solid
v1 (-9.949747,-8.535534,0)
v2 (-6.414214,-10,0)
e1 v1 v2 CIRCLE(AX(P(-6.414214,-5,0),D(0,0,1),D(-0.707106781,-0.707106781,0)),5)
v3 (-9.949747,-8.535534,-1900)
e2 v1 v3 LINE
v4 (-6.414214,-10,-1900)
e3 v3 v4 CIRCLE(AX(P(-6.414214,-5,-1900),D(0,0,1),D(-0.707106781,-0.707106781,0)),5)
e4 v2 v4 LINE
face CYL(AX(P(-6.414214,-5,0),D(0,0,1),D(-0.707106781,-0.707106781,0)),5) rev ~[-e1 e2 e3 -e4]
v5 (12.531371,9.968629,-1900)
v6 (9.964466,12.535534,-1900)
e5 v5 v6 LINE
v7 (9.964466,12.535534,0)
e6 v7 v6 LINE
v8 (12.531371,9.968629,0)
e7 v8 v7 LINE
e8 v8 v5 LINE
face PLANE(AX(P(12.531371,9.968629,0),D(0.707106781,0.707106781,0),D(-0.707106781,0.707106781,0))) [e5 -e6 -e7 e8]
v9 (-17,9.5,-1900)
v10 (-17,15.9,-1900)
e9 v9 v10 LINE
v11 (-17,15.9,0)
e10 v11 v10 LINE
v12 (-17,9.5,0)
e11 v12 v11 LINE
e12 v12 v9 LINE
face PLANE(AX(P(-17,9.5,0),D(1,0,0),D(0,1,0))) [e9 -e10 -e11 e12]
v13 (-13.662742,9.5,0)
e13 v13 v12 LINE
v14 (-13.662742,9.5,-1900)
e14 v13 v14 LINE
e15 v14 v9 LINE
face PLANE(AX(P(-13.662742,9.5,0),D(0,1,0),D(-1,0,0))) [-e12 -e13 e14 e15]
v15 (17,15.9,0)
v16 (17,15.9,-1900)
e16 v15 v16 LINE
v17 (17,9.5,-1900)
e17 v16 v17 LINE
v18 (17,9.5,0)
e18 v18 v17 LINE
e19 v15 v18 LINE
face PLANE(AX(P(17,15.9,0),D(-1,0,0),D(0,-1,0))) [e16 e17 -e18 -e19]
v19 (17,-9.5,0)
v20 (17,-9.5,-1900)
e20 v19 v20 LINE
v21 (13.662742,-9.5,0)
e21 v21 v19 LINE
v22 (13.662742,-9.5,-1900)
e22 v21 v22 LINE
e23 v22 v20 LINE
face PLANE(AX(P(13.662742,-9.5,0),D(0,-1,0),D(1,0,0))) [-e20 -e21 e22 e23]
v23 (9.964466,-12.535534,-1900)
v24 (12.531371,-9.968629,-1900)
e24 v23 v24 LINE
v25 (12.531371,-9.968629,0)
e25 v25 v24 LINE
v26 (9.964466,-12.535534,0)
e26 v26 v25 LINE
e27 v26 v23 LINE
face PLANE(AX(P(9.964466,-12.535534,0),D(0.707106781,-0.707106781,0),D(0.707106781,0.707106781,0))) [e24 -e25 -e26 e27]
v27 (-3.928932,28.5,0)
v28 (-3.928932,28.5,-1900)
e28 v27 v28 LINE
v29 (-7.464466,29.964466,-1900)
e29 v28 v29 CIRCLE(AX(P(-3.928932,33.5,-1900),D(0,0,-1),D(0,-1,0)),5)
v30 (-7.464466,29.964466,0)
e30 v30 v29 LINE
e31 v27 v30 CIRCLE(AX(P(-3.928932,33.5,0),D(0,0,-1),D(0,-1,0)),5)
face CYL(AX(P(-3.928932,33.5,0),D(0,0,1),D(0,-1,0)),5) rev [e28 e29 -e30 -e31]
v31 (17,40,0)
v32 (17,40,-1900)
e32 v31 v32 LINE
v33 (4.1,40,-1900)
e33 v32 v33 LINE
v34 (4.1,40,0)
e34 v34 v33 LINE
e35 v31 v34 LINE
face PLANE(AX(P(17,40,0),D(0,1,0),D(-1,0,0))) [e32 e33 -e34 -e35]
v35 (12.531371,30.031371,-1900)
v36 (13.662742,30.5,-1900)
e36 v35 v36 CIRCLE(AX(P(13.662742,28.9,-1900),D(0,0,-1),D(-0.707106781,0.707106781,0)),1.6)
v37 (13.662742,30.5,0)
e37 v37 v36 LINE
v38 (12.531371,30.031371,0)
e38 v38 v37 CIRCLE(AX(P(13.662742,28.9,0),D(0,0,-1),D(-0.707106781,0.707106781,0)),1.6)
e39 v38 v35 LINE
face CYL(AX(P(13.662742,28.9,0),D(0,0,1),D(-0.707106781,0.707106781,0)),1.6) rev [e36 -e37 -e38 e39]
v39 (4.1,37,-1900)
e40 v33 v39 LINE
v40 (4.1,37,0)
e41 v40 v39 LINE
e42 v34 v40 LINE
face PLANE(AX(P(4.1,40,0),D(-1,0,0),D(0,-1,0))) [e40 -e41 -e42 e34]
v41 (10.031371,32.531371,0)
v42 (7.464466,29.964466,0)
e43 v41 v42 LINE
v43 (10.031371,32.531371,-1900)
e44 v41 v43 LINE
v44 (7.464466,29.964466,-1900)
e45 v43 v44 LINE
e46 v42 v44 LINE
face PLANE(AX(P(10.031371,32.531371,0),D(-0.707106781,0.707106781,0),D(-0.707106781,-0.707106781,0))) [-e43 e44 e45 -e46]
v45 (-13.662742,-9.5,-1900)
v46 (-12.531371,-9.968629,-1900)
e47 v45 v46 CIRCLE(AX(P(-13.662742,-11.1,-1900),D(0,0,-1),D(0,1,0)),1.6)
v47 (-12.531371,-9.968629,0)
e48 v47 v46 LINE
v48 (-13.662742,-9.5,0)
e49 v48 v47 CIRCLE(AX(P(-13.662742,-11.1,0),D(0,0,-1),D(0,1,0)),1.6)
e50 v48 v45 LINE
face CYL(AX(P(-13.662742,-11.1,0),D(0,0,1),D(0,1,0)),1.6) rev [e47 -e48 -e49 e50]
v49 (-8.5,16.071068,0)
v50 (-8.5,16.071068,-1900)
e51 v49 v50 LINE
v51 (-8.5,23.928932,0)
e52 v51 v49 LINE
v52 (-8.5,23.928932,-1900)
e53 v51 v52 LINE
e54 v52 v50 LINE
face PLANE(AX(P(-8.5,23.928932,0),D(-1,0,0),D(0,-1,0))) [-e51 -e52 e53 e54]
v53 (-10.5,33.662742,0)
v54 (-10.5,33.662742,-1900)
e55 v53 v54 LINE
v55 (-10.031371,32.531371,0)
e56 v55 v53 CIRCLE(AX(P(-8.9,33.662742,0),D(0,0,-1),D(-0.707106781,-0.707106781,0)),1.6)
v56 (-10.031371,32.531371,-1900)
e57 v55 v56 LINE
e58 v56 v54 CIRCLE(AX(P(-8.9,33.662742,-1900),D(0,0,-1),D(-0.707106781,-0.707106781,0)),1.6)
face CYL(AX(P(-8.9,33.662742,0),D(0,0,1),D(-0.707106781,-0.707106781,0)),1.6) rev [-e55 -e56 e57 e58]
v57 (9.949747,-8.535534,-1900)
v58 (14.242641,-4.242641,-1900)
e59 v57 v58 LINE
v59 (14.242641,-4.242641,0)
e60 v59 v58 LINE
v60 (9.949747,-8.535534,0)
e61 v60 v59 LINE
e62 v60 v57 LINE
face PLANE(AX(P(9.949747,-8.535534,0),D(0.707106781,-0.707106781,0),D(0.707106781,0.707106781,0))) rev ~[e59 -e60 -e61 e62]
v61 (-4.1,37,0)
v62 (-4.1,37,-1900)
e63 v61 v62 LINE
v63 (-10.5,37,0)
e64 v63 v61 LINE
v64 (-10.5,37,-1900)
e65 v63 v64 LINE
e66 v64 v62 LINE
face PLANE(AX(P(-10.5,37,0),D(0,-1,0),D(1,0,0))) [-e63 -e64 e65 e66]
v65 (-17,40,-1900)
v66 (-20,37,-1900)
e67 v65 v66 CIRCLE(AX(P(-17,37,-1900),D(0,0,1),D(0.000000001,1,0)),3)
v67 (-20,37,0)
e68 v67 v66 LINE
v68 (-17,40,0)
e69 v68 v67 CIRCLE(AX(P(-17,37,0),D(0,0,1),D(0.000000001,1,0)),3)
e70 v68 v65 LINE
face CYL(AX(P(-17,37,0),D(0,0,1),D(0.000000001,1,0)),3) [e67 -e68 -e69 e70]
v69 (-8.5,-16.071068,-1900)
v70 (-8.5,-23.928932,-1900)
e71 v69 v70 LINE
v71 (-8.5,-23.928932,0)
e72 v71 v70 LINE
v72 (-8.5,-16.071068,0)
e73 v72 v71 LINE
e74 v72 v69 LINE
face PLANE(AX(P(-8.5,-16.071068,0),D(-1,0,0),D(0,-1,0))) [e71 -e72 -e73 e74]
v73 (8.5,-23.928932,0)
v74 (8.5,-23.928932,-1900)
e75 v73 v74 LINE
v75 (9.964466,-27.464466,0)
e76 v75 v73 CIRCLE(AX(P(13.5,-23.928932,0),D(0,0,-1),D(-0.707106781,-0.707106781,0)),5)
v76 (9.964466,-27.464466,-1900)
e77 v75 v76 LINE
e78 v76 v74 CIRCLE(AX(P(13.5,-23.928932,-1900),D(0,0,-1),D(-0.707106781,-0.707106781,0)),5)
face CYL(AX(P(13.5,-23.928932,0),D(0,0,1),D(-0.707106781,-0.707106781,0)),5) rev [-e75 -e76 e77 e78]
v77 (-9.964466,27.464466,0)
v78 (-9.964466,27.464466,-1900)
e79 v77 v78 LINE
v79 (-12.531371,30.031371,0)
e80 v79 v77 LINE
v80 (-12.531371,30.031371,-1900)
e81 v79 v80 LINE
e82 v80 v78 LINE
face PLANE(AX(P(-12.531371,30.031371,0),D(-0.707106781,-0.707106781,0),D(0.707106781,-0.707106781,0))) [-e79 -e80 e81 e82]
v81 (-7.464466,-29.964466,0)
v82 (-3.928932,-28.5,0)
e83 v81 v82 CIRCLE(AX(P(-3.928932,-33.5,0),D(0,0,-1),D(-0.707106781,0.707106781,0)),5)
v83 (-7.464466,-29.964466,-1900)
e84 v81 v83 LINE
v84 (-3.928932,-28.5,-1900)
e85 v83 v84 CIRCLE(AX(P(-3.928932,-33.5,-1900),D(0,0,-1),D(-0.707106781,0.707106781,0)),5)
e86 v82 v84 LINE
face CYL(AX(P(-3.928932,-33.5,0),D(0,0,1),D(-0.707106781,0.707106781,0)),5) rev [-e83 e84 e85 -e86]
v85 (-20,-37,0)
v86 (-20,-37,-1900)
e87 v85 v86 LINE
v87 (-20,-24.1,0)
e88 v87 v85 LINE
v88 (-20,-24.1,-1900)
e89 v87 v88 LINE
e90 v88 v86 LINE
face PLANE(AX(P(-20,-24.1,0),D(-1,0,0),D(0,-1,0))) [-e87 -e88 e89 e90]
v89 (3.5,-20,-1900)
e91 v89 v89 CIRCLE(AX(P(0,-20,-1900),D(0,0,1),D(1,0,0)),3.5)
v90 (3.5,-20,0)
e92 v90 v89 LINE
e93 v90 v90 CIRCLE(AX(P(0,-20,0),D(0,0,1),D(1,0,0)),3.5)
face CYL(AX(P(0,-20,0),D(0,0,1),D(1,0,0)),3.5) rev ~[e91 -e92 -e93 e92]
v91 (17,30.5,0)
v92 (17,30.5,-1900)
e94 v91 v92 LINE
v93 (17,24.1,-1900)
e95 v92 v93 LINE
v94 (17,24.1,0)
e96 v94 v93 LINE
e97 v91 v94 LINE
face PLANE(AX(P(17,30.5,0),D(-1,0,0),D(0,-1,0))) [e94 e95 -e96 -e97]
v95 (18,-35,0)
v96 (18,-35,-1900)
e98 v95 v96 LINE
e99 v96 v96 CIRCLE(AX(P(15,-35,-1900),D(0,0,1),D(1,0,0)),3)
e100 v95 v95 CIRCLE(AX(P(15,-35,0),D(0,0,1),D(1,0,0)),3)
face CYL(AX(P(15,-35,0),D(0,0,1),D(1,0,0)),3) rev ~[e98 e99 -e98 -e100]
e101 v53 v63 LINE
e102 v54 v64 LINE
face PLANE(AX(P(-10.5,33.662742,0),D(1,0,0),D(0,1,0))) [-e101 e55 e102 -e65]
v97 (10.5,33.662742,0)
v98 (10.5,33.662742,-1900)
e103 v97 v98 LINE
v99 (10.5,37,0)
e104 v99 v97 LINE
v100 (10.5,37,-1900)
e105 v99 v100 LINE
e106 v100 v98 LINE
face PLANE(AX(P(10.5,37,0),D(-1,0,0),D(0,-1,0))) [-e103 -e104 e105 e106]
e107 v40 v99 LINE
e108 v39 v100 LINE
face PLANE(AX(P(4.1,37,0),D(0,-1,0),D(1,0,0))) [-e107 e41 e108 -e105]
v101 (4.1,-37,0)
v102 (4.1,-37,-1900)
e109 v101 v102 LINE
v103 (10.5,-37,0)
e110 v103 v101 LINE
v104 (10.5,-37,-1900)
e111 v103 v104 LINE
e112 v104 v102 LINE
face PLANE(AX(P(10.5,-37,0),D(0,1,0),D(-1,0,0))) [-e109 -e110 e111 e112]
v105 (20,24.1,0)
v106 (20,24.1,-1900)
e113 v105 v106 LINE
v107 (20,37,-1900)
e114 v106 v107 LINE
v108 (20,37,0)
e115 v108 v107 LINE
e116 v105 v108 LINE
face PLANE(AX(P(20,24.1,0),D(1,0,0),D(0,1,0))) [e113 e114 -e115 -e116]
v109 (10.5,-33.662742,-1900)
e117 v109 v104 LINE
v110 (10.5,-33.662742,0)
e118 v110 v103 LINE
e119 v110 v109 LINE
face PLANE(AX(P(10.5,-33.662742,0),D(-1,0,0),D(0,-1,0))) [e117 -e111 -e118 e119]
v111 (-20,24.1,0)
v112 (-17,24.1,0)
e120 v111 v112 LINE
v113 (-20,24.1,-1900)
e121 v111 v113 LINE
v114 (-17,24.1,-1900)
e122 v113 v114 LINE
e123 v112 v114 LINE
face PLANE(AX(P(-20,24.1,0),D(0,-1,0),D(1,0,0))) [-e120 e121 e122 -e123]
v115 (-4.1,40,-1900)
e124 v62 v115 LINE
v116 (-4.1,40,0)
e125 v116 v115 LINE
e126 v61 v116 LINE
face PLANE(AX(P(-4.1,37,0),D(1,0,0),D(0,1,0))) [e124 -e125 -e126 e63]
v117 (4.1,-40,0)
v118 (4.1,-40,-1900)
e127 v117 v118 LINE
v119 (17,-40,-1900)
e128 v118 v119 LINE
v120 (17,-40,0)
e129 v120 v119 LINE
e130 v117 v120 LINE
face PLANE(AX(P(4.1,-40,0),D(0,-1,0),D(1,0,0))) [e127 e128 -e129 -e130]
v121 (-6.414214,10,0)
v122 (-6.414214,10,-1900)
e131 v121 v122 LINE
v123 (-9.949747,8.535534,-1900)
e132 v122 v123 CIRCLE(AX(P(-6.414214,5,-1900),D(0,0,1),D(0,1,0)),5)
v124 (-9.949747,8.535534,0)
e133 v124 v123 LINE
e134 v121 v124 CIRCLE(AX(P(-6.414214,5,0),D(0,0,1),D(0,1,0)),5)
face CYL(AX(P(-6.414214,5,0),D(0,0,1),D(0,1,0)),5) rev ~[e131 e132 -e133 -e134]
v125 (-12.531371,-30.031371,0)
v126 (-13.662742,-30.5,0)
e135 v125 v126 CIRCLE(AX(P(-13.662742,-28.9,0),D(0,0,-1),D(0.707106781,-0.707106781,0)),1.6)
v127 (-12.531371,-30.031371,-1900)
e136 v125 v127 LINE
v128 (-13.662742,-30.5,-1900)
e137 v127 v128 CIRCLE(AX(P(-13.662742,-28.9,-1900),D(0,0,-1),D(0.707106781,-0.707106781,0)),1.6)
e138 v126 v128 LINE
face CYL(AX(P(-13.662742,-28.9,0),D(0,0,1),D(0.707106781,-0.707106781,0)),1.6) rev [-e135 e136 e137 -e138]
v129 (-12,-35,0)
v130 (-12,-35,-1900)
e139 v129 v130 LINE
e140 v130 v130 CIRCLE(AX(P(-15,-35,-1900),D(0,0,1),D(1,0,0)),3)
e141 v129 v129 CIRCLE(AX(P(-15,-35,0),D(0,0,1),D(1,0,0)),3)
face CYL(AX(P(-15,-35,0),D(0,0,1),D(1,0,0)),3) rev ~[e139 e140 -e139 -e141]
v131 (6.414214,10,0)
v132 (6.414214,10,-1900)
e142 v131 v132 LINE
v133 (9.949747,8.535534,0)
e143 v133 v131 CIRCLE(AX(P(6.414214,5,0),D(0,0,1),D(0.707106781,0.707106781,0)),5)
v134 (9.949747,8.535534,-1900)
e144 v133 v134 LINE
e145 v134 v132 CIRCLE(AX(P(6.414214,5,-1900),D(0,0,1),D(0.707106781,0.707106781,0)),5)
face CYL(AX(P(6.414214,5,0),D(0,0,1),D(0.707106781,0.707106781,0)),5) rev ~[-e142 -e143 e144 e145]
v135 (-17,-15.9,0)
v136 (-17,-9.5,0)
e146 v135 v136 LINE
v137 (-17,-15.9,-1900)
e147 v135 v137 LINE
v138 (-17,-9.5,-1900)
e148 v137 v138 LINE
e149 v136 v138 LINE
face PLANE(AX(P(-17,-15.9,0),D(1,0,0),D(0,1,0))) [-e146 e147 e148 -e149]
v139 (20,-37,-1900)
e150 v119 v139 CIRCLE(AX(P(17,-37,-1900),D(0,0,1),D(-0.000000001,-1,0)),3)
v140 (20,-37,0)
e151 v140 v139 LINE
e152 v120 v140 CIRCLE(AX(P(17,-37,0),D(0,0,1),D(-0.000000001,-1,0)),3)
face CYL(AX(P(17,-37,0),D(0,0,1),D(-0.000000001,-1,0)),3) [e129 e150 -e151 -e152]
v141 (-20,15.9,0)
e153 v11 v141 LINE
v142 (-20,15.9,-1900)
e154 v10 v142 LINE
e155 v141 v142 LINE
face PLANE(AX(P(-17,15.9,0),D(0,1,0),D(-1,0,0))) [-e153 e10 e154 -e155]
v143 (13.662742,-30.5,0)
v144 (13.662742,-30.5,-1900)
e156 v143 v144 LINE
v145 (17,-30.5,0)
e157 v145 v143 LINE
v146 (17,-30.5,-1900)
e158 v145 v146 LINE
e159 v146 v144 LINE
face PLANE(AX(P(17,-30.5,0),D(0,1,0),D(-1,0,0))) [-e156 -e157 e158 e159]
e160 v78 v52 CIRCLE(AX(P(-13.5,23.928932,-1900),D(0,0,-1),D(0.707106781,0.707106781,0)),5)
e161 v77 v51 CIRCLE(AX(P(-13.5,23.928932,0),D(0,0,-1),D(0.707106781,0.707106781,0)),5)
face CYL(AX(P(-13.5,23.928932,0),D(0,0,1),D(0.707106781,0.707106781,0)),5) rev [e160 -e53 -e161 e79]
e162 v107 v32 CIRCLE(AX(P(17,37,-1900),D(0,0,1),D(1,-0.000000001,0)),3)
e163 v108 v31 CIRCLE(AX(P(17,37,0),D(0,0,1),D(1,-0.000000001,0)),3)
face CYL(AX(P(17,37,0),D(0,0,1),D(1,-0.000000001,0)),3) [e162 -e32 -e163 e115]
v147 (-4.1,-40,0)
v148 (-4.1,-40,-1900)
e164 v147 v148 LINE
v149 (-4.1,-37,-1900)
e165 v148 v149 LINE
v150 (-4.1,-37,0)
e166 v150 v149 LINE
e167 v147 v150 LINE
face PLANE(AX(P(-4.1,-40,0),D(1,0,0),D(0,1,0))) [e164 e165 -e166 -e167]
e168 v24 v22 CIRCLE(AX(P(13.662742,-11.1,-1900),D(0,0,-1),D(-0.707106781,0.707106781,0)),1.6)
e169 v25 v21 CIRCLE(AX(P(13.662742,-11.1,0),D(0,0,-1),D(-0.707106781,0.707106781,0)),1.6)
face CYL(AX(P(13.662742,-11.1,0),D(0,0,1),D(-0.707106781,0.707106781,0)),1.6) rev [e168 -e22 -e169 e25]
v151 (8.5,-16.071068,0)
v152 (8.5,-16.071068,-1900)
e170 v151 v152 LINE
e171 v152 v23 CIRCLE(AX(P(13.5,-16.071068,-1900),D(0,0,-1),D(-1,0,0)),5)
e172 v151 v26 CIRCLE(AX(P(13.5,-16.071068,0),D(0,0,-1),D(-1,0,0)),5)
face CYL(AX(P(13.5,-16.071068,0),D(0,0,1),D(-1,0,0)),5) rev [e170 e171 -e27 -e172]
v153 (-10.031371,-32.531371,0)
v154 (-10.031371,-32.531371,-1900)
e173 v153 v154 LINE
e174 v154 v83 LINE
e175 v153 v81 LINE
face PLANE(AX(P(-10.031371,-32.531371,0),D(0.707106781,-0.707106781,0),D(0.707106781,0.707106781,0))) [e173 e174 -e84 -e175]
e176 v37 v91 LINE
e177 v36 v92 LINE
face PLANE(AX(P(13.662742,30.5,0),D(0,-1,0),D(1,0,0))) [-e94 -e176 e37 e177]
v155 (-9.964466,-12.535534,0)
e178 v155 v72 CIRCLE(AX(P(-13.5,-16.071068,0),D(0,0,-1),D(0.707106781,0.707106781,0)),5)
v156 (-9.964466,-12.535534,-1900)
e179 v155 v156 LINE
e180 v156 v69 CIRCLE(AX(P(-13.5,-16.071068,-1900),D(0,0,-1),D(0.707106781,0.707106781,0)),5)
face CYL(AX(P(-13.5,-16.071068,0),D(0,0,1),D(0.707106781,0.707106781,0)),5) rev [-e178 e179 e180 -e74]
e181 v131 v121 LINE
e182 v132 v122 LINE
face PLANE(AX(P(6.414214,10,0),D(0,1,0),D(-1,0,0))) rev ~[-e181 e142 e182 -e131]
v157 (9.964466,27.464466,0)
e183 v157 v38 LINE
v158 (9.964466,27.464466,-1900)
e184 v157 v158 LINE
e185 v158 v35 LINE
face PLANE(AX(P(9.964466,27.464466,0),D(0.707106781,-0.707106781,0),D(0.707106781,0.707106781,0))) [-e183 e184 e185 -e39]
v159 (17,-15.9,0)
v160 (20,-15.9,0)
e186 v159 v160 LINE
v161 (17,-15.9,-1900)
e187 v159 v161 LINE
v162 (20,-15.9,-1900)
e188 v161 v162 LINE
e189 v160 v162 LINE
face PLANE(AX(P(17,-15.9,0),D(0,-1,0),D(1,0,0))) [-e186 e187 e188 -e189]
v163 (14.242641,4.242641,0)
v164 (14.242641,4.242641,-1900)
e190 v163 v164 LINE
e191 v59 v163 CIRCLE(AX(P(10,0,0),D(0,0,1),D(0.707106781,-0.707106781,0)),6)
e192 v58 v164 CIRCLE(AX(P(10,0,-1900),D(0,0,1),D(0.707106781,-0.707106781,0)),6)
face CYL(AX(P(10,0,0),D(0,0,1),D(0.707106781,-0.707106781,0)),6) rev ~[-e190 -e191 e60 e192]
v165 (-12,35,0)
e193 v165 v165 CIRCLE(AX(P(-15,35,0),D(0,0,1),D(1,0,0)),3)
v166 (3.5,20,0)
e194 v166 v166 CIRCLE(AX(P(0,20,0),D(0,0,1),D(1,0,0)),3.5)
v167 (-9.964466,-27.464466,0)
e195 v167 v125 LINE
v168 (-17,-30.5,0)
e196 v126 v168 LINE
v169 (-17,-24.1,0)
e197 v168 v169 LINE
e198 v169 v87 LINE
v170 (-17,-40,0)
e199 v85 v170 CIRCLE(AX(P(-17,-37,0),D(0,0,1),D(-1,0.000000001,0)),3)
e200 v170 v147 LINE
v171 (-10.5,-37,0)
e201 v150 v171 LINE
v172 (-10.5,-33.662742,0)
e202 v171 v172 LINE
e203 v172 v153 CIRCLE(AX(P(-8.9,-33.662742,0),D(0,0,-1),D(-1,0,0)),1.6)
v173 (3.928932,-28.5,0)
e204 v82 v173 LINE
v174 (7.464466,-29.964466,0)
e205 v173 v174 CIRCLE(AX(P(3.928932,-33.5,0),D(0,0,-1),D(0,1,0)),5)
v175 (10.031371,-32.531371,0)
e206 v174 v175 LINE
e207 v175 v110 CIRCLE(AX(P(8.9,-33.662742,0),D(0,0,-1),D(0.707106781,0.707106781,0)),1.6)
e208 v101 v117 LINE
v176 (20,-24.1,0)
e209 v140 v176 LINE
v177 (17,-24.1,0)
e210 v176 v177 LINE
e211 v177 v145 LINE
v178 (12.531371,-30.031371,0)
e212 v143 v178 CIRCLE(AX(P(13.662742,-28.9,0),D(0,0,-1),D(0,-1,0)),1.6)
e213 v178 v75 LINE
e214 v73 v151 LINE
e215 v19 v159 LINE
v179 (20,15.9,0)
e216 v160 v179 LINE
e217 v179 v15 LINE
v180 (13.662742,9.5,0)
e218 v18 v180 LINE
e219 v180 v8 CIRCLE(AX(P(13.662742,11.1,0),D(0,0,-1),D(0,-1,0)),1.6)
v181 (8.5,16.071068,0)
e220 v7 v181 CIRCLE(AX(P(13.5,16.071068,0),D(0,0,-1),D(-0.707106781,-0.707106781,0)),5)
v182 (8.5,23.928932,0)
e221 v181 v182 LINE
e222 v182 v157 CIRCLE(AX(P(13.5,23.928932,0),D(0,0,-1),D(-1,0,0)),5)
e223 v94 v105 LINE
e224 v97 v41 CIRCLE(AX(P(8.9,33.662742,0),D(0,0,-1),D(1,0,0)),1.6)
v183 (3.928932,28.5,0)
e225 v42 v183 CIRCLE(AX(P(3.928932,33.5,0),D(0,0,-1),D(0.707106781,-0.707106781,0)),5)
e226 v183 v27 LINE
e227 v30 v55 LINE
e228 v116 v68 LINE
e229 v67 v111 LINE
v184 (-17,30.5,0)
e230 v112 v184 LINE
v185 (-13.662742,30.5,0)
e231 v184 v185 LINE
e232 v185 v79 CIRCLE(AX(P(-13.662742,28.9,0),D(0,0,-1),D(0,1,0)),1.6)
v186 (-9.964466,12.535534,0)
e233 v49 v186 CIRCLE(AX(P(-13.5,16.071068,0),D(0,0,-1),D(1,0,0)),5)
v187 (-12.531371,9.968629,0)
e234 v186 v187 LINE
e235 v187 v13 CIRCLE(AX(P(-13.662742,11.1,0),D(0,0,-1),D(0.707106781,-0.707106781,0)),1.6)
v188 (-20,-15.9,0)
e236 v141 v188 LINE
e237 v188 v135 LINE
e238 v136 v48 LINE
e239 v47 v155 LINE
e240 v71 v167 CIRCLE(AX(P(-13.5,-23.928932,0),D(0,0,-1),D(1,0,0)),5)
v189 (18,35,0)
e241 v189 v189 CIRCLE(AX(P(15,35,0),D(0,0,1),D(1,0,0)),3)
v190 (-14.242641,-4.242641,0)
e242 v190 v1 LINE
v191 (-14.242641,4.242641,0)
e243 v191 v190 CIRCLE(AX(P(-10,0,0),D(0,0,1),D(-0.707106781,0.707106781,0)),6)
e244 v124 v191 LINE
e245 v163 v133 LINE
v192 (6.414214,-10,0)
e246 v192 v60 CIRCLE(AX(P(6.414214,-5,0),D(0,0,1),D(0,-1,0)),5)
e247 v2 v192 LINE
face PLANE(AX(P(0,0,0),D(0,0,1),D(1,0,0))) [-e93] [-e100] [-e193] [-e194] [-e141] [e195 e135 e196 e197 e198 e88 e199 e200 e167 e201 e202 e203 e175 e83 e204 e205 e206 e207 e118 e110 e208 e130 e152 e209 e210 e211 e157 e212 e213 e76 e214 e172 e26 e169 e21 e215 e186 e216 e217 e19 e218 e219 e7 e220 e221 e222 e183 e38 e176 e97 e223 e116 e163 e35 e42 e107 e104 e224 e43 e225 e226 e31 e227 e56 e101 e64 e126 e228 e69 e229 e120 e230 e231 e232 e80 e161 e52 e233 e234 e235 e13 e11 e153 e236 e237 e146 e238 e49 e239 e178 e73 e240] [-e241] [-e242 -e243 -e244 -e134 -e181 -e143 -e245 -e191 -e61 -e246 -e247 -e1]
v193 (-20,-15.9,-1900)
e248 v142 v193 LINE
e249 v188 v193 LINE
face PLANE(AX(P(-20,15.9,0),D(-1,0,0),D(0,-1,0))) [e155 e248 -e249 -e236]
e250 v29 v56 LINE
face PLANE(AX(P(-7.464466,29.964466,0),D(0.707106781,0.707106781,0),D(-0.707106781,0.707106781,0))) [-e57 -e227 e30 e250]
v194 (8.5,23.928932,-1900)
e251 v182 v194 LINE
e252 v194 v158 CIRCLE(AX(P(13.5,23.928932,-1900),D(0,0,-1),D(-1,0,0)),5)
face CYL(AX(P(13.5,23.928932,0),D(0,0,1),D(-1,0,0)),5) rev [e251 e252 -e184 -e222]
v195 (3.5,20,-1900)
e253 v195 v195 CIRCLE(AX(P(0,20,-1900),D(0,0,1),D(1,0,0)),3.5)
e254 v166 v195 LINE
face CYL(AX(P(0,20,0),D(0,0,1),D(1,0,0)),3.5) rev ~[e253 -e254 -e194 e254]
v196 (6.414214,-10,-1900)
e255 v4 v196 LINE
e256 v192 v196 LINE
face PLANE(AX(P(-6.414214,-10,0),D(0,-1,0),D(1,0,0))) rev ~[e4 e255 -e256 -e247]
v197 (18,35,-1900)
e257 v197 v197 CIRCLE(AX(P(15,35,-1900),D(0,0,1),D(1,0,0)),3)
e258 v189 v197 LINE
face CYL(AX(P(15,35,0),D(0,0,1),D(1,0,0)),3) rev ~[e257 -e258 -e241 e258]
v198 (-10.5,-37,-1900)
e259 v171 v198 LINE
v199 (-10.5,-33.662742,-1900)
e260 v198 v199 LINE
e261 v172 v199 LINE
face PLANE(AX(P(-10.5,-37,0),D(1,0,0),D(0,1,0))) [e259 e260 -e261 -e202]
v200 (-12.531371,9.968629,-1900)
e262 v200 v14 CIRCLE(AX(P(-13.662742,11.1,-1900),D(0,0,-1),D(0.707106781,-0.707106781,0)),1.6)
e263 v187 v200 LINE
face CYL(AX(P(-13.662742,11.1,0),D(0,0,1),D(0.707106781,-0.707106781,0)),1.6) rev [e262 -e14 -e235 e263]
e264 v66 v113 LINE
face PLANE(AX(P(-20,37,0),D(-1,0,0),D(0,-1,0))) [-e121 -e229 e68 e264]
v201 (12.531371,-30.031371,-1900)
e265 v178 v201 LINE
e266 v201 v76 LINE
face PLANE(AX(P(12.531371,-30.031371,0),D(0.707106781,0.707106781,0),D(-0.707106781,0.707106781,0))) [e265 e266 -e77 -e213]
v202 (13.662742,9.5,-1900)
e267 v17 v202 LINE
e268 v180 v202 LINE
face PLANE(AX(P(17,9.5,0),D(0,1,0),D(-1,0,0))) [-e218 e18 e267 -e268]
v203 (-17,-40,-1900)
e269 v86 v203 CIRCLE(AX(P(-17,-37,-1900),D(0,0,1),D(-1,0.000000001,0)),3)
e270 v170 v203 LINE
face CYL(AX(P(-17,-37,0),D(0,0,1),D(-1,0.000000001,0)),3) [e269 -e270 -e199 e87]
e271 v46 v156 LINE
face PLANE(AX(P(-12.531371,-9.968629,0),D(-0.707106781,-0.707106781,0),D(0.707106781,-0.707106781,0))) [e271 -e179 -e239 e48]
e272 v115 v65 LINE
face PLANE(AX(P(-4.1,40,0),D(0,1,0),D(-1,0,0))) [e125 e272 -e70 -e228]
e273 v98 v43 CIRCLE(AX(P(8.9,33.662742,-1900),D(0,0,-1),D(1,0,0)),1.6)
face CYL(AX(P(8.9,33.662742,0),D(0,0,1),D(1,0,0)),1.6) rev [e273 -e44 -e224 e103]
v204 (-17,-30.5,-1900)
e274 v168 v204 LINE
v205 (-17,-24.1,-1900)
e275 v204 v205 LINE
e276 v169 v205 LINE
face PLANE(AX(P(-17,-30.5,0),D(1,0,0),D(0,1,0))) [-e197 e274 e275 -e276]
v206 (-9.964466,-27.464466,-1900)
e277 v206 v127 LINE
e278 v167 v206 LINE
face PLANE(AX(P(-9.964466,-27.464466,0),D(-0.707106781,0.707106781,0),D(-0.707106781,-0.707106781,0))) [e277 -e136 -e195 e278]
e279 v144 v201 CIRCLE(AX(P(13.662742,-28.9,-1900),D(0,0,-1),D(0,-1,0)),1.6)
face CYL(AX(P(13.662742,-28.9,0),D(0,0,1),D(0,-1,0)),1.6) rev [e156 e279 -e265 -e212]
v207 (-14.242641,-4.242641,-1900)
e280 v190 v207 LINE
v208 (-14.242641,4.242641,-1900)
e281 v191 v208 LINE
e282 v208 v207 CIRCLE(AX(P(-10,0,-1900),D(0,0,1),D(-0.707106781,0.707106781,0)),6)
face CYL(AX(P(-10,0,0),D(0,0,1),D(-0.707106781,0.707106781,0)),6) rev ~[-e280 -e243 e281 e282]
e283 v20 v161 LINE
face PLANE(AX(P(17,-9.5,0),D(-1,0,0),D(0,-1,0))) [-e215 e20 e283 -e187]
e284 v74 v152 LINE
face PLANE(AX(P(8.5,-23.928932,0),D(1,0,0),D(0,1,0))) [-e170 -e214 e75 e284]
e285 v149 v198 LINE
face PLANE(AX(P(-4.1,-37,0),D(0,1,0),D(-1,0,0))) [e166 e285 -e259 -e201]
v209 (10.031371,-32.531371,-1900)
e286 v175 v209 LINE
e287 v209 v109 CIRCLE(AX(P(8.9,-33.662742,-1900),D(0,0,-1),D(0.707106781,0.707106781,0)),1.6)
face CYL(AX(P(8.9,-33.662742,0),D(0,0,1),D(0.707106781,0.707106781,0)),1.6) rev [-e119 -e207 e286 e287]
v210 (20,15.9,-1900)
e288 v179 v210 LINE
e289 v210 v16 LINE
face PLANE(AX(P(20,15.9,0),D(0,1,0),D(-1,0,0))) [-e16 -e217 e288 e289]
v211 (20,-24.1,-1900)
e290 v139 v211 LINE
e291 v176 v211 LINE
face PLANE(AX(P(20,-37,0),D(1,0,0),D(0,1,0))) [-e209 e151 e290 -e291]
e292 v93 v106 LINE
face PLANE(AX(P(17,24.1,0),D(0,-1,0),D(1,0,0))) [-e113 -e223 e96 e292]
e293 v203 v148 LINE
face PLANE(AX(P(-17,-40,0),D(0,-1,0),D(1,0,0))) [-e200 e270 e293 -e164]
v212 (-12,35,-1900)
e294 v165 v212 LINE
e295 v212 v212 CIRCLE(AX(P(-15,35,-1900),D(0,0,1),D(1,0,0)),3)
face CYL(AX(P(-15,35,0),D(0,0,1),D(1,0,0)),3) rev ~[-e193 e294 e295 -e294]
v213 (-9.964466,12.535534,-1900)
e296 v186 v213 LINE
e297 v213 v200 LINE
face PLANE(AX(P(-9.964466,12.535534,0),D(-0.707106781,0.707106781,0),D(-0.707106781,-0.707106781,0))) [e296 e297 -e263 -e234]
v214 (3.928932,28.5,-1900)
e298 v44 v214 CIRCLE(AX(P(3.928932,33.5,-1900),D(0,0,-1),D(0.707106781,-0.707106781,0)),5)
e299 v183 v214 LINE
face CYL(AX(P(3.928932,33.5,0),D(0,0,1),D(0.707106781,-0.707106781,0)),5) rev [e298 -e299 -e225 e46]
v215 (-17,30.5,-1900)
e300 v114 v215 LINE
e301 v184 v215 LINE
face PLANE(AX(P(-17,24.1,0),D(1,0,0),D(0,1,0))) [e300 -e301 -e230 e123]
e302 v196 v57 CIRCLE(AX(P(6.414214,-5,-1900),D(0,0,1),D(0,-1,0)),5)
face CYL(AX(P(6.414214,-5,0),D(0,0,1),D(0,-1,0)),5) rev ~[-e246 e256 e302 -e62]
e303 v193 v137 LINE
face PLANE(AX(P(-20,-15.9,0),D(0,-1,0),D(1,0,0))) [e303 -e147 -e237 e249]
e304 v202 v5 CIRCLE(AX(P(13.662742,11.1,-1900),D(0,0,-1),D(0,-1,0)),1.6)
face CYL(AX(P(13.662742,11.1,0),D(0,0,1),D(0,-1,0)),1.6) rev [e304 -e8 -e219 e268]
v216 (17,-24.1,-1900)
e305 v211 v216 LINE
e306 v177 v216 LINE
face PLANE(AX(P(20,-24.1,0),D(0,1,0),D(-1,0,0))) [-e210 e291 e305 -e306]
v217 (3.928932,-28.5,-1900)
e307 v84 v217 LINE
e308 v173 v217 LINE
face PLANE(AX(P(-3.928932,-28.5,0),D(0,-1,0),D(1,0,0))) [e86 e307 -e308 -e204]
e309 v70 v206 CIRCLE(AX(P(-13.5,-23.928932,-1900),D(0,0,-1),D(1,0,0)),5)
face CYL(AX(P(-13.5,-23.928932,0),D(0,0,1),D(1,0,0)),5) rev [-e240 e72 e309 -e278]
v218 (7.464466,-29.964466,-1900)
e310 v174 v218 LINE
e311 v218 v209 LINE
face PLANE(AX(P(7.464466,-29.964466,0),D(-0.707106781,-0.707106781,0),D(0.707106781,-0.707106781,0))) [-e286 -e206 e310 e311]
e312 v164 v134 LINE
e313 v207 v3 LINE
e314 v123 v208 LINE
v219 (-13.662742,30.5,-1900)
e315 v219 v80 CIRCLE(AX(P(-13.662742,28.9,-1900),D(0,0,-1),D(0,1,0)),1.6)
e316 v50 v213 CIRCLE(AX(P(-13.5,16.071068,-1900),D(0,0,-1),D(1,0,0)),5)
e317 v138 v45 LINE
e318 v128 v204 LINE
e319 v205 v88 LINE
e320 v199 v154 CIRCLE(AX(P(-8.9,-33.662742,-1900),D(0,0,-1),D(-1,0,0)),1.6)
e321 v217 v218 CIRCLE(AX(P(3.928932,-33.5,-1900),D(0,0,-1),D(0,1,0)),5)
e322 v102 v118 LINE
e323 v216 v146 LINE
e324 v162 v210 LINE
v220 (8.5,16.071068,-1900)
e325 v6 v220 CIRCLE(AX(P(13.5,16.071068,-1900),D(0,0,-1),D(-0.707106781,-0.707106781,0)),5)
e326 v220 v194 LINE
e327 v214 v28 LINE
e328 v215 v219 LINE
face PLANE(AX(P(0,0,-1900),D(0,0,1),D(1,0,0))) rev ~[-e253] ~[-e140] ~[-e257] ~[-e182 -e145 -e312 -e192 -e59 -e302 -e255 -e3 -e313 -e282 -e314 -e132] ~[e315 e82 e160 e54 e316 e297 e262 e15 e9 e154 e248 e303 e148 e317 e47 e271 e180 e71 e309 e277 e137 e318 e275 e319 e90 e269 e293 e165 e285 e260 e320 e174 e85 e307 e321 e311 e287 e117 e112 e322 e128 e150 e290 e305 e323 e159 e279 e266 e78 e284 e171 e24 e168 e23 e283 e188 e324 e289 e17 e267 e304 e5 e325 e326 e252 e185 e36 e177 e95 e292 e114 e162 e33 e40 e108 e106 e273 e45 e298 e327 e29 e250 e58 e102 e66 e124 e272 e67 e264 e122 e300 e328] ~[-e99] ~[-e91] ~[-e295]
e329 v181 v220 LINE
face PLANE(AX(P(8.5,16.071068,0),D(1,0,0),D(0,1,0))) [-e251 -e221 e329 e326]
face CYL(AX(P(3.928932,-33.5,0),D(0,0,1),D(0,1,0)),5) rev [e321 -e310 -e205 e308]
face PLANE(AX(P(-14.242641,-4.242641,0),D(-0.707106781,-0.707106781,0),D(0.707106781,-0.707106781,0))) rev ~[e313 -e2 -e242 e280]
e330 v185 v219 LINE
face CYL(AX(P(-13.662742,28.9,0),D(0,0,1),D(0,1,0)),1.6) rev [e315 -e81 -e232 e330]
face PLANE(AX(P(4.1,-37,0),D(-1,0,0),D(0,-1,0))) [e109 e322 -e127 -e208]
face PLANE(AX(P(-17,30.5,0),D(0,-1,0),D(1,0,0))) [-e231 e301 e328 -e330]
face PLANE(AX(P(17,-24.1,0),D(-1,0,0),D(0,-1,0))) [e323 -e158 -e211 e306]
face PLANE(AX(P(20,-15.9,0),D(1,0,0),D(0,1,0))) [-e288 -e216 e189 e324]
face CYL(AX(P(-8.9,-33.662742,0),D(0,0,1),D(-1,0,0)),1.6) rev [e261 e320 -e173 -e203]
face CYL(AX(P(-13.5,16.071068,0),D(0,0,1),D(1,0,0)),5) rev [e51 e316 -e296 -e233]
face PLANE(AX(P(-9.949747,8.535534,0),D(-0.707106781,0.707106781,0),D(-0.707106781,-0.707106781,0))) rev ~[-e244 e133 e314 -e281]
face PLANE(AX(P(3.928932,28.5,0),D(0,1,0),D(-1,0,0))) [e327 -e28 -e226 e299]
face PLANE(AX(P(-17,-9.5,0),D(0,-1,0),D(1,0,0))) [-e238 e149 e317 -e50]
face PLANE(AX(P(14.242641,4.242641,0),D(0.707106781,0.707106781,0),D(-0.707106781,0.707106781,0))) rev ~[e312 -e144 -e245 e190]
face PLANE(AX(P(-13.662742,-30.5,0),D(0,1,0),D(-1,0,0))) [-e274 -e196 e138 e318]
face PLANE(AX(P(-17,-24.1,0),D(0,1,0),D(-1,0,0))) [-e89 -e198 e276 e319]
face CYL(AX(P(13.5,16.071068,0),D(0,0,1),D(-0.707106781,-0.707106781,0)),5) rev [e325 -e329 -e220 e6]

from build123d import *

# Parameters (mm, degrees)
SKETCH1_R           = 3
SKETCH1_R_2         = 3.5
BOSS_EXTRUDE1_DEPTH = 1900


with BuildPart() as part:
    # Sketch1 → Boss-Extrude1 (new body)
    with BuildSketch(Plane.XY):
        with BuildLine():
            Line((-17, -40), (-4.1, -40))
            Line((-4.1, -40), (-4.1, -37))
            Line((-4.1, -37), (-10.5, -37))
            Line((-10.5, -37), (-10.5, -33.6627417))
            ThreePointArc((-10.5, -33.6627417), (-10.378207252, -33.050448208), (-10.03137085, -32.53137085))
            Line((-10.03137085, -32.53137085), (-7.464466094, -29.964466094))
            ThreePointArc((-7.464466094, -29.964466094), (-5.84234935, -28.880602337), (-3.928932188, -28.5))
            Line((-3.928932188, -28.5), (3.928932188, -28.5))
            ThreePointArc((3.928932188, -28.5), (5.84234935, -28.880602337), (7.464466094, -29.964466094))
            Line((7.464466094, -29.964466094), (10.03137085, -32.53137085))
            ThreePointArc((10.03137085, -32.53137085), (10.378207252, -33.050448208), (10.5, -33.6627417))
            Line((10.5, -33.6627417), (10.5, -37))
            Line((10.5, -37), (4.1, -37))
            Line((4.1, -37), (4.1, -40))
            Line((4.1, -40), (17, -40))
            ThreePointArc((17, -40), (19.121320344, -39.121320344), (20, -37))
            Line((20, -37), (20, -24.1))
            Line((20, -24.1), (17, -24.1))
            Line((17, -24.1), (17, -30.5))
            Line((17, -30.5), (13.6627417, -30.5))
            ThreePointArc((13.6627417, -30.5), (13.050448208, -30.378207252), (12.53137085, -30.03137085))
            Line((12.53137085, -30.03137085), (9.964466094, -27.464466094))
            ThreePointArc((9.964466094, -27.464466094), (8.880602337, -25.84234935), (8.5, -23.928932188))
            Line((8.5, -23.928932188), (8.5, -16.071067812))
            ThreePointArc((8.5, -16.071067812), (8.880602337, -14.15765065), (9.964466094, -12.535533906))
            Line((9.964466094, -12.535533906), (12.53137085, -9.96862915))
            ThreePointArc((12.53137085, -9.96862915), (13.050448208, -9.621792748), (13.6627417, -9.5))
            Line((13.6627417, -9.5), (17, -9.5))
            Line((17, -9.5), (17, -15.9))
            Line((17, -15.9), (20, -15.9))
            Line((20, -15.9), (20, 15.9))
            Line((20, 15.9), (17, 15.9))
            Line((17, 15.9), (17, 9.5))
            Line((17, 9.5), (13.6627417, 9.5))
            ThreePointArc((13.6627417, 9.5), (13.050448208, 9.621792748), (12.53137085, 9.96862915))
            Line((12.53137085, 9.96862915), (9.964466094, 12.535533906))
            ThreePointArc((9.964466094, 12.535533906), (8.880602337, 14.15765065), (8.5, 16.071067812))
            Line((8.5, 16.071067812), (8.5, 23.928932188))
            ThreePointArc((8.5, 23.928932188), (8.880602337, 25.84234935), (9.964466094, 27.464466094))
            Line((9.964466094, 27.464466094), (12.53137085, 30.03137085))
            ThreePointArc((12.53137085, 30.03137085), (13.050448208, 30.378207252), (13.6627417, 30.5))
            Line((13.6627417, 30.5), (17, 30.5))
            Line((17, 30.5), (17, 24.1))
            Line((17, 24.1), (20, 24.1))
            Line((20, 24.1), (20, 37))
            ThreePointArc((20, 37), (19.121320344, 39.121320344), (17, 40))
            Line((17, 40), (4.1, 40))
            Line((4.1, 40), (4.1, 37))
            Line((4.1, 37), (10.5, 37))
            Line((10.5, 37), (10.5, 33.6627417))
            ThreePointArc((10.5, 33.6627417), (10.378207252, 33.050448208), (10.03137085, 32.53137085))
            Line((10.03137085, 32.53137085), (7.464466094, 29.964466094))
            ThreePointArc((7.464466094, 29.964466094), (5.84234935, 28.880602337), (3.928932188, 28.5))
            Line((3.928932188, 28.5), (-3.928932188, 28.5))
            ThreePointArc((-3.928932188, 28.5), (-5.84234935, 28.880602337), (-7.464466094, 29.964466094))
            Line((-7.464466094, 29.964466094), (-10.03137085, 32.53137085))
            ThreePointArc((-10.03137085, 32.53137085), (-10.378207252, 33.050448208), (-10.5, 33.6627417))
            Line((-10.5, 33.6627417), (-10.5, 37))
            Line((-10.5, 37), (-4.1, 37))
            Line((-4.1, 37), (-4.1, 40))
            Line((-4.1, 40), (-17, 40))
            ThreePointArc((-17, 40), (-19.121320344, 39.121320344), (-20, 37))
            Line((-20, 37), (-20, 24.1))
            Line((-20, 24.1), (-17, 24.1))
            Line((-17, 24.1), (-17, 30.5))
            Line((-17, 30.5), (-13.6627417, 30.5))
            ThreePointArc((-13.6627417, 30.5), (-13.050448208, 30.378207252), (-12.53137085, 30.03137085))
            Line((-12.53137085, 30.03137085), (-9.964466094, 27.464466094))
            ThreePointArc((-9.964466094, 27.464466094), (-8.880602337, 25.84234935), (-8.5, 23.928932188))
            Line((-8.5, 23.928932188), (-8.5, 16.071067812))
            ThreePointArc((-8.5, 16.071067812), (-8.880602337, 14.15765065), (-9.964466094, 12.535533906))
            Line((-9.964466094, 12.535533906), (-12.53137085, 9.96862915))
            ThreePointArc((-12.53137085, 9.96862915), (-13.050448208, 9.621792748), (-13.6627417, 9.5))
            Line((-13.6627417, 9.5), (-17, 9.5))
            Line((-17, 9.5), (-17, 15.9))
            Line((-17, 15.9), (-20, 15.9))
            Line((-20, 15.9), (-20, -15.9))
            Line((-20, -15.9), (-17, -15.9))
            Line((-17, -15.9), (-17, -9.5))
            Line((-17, -9.5), (-13.6627417, -9.5))
            ThreePointArc((-13.6627417, -9.5), (-13.050448208, -9.621792748), (-12.53137085, -9.96862915))
            Line((-12.53137085, -9.96862915), (-9.964466094, -12.535533906))
            ThreePointArc((-9.964466094, -12.535533906), (-8.880602337, -14.15765065), (-8.5, -16.071067812))
            Line((-8.5, -16.071067812), (-8.5, -23.928932188))
            ThreePointArc((-8.5, -23.928932188), (-8.880602337, -25.84234935), (-9.964466094, -27.464466094))
            Line((-9.964466094, -27.464466094), (-12.53137085, -30.03137085))
            ThreePointArc((-12.53137085, -30.03137085), (-13.050448208, -30.378207252), (-13.6627417, -30.5))
            Line((-13.6627417, -30.5), (-17, -30.5))
            Line((-17, -30.5), (-17, -24.1))
            Line((-17, -24.1), (-20, -24.1))
            Line((-20, -24.1), (-20, -37))
            ThreePointArc((-20, -37), (-19.121320344, -39.121320344), (-17, -40))
        make_face()
        with Locations((15, 35)):
            Circle(SKETCH1_R, mode=Mode.SUBTRACT)
        with Locations((15, -35)):
            Circle(SKETCH1_R, mode=Mode.SUBTRACT)
        with Locations((0, 20)):
            Circle(SKETCH1_R_2, mode=Mode.SUBTRACT)
        with Locations((0, -20)):
            Circle(SKETCH1_R_2, mode=Mode.SUBTRACT)
        with Locations((-15, 35)):
            Circle(SKETCH1_R, mode=Mode.SUBTRACT)
        with Locations((-15, -35)):
            Circle(SKETCH1_R, mode=Mode.SUBTRACT)
        with BuildLine():
            Line((-14.242640687, -4.242640687), (-9.949747468, -8.535533906))
            ThreePointArc((-9.949747468, -8.535533906), (-8.327630724, -9.619397663), (-6.414213562, -10))
            Line((-6.414213562, -10), (6.414213562, -10))
            ThreePointArc((6.414213562, -10), (8.327630724, -9.619397663), (9.949747468, -8.535533906))
            Line((9.949747468, -8.535533906), (14.242640687, -4.242640687))
            ThreePointArc((14.242640687, -4.242640687), (16, 0), (14.242640687, 4.242640687))
            Line((14.242640687, 4.242640687), (9.949747468, 8.535533906))
            ThreePointArc((9.949747468, 8.535533906), (8.327630724, 9.619397663), (6.414213562, 10))
            Line((6.414213562, 10), (-6.414213562, 10))
            ThreePointArc((-6.414213562, 10), (-8.327630724, 9.619397663), (-9.949747468, 8.535533906))
            Line((-9.949747468, 8.535533906), (-14.242640687, 4.242640687))
            ThreePointArc((-14.242640687, 4.242640687), (-16, 0), (-14.242640687, -4.242640687))
        make_face(mode=Mode.SUBTRACT)
    extrude(amount=-BOSS_EXTRUDE1_DEPTH)


solid = part.part
